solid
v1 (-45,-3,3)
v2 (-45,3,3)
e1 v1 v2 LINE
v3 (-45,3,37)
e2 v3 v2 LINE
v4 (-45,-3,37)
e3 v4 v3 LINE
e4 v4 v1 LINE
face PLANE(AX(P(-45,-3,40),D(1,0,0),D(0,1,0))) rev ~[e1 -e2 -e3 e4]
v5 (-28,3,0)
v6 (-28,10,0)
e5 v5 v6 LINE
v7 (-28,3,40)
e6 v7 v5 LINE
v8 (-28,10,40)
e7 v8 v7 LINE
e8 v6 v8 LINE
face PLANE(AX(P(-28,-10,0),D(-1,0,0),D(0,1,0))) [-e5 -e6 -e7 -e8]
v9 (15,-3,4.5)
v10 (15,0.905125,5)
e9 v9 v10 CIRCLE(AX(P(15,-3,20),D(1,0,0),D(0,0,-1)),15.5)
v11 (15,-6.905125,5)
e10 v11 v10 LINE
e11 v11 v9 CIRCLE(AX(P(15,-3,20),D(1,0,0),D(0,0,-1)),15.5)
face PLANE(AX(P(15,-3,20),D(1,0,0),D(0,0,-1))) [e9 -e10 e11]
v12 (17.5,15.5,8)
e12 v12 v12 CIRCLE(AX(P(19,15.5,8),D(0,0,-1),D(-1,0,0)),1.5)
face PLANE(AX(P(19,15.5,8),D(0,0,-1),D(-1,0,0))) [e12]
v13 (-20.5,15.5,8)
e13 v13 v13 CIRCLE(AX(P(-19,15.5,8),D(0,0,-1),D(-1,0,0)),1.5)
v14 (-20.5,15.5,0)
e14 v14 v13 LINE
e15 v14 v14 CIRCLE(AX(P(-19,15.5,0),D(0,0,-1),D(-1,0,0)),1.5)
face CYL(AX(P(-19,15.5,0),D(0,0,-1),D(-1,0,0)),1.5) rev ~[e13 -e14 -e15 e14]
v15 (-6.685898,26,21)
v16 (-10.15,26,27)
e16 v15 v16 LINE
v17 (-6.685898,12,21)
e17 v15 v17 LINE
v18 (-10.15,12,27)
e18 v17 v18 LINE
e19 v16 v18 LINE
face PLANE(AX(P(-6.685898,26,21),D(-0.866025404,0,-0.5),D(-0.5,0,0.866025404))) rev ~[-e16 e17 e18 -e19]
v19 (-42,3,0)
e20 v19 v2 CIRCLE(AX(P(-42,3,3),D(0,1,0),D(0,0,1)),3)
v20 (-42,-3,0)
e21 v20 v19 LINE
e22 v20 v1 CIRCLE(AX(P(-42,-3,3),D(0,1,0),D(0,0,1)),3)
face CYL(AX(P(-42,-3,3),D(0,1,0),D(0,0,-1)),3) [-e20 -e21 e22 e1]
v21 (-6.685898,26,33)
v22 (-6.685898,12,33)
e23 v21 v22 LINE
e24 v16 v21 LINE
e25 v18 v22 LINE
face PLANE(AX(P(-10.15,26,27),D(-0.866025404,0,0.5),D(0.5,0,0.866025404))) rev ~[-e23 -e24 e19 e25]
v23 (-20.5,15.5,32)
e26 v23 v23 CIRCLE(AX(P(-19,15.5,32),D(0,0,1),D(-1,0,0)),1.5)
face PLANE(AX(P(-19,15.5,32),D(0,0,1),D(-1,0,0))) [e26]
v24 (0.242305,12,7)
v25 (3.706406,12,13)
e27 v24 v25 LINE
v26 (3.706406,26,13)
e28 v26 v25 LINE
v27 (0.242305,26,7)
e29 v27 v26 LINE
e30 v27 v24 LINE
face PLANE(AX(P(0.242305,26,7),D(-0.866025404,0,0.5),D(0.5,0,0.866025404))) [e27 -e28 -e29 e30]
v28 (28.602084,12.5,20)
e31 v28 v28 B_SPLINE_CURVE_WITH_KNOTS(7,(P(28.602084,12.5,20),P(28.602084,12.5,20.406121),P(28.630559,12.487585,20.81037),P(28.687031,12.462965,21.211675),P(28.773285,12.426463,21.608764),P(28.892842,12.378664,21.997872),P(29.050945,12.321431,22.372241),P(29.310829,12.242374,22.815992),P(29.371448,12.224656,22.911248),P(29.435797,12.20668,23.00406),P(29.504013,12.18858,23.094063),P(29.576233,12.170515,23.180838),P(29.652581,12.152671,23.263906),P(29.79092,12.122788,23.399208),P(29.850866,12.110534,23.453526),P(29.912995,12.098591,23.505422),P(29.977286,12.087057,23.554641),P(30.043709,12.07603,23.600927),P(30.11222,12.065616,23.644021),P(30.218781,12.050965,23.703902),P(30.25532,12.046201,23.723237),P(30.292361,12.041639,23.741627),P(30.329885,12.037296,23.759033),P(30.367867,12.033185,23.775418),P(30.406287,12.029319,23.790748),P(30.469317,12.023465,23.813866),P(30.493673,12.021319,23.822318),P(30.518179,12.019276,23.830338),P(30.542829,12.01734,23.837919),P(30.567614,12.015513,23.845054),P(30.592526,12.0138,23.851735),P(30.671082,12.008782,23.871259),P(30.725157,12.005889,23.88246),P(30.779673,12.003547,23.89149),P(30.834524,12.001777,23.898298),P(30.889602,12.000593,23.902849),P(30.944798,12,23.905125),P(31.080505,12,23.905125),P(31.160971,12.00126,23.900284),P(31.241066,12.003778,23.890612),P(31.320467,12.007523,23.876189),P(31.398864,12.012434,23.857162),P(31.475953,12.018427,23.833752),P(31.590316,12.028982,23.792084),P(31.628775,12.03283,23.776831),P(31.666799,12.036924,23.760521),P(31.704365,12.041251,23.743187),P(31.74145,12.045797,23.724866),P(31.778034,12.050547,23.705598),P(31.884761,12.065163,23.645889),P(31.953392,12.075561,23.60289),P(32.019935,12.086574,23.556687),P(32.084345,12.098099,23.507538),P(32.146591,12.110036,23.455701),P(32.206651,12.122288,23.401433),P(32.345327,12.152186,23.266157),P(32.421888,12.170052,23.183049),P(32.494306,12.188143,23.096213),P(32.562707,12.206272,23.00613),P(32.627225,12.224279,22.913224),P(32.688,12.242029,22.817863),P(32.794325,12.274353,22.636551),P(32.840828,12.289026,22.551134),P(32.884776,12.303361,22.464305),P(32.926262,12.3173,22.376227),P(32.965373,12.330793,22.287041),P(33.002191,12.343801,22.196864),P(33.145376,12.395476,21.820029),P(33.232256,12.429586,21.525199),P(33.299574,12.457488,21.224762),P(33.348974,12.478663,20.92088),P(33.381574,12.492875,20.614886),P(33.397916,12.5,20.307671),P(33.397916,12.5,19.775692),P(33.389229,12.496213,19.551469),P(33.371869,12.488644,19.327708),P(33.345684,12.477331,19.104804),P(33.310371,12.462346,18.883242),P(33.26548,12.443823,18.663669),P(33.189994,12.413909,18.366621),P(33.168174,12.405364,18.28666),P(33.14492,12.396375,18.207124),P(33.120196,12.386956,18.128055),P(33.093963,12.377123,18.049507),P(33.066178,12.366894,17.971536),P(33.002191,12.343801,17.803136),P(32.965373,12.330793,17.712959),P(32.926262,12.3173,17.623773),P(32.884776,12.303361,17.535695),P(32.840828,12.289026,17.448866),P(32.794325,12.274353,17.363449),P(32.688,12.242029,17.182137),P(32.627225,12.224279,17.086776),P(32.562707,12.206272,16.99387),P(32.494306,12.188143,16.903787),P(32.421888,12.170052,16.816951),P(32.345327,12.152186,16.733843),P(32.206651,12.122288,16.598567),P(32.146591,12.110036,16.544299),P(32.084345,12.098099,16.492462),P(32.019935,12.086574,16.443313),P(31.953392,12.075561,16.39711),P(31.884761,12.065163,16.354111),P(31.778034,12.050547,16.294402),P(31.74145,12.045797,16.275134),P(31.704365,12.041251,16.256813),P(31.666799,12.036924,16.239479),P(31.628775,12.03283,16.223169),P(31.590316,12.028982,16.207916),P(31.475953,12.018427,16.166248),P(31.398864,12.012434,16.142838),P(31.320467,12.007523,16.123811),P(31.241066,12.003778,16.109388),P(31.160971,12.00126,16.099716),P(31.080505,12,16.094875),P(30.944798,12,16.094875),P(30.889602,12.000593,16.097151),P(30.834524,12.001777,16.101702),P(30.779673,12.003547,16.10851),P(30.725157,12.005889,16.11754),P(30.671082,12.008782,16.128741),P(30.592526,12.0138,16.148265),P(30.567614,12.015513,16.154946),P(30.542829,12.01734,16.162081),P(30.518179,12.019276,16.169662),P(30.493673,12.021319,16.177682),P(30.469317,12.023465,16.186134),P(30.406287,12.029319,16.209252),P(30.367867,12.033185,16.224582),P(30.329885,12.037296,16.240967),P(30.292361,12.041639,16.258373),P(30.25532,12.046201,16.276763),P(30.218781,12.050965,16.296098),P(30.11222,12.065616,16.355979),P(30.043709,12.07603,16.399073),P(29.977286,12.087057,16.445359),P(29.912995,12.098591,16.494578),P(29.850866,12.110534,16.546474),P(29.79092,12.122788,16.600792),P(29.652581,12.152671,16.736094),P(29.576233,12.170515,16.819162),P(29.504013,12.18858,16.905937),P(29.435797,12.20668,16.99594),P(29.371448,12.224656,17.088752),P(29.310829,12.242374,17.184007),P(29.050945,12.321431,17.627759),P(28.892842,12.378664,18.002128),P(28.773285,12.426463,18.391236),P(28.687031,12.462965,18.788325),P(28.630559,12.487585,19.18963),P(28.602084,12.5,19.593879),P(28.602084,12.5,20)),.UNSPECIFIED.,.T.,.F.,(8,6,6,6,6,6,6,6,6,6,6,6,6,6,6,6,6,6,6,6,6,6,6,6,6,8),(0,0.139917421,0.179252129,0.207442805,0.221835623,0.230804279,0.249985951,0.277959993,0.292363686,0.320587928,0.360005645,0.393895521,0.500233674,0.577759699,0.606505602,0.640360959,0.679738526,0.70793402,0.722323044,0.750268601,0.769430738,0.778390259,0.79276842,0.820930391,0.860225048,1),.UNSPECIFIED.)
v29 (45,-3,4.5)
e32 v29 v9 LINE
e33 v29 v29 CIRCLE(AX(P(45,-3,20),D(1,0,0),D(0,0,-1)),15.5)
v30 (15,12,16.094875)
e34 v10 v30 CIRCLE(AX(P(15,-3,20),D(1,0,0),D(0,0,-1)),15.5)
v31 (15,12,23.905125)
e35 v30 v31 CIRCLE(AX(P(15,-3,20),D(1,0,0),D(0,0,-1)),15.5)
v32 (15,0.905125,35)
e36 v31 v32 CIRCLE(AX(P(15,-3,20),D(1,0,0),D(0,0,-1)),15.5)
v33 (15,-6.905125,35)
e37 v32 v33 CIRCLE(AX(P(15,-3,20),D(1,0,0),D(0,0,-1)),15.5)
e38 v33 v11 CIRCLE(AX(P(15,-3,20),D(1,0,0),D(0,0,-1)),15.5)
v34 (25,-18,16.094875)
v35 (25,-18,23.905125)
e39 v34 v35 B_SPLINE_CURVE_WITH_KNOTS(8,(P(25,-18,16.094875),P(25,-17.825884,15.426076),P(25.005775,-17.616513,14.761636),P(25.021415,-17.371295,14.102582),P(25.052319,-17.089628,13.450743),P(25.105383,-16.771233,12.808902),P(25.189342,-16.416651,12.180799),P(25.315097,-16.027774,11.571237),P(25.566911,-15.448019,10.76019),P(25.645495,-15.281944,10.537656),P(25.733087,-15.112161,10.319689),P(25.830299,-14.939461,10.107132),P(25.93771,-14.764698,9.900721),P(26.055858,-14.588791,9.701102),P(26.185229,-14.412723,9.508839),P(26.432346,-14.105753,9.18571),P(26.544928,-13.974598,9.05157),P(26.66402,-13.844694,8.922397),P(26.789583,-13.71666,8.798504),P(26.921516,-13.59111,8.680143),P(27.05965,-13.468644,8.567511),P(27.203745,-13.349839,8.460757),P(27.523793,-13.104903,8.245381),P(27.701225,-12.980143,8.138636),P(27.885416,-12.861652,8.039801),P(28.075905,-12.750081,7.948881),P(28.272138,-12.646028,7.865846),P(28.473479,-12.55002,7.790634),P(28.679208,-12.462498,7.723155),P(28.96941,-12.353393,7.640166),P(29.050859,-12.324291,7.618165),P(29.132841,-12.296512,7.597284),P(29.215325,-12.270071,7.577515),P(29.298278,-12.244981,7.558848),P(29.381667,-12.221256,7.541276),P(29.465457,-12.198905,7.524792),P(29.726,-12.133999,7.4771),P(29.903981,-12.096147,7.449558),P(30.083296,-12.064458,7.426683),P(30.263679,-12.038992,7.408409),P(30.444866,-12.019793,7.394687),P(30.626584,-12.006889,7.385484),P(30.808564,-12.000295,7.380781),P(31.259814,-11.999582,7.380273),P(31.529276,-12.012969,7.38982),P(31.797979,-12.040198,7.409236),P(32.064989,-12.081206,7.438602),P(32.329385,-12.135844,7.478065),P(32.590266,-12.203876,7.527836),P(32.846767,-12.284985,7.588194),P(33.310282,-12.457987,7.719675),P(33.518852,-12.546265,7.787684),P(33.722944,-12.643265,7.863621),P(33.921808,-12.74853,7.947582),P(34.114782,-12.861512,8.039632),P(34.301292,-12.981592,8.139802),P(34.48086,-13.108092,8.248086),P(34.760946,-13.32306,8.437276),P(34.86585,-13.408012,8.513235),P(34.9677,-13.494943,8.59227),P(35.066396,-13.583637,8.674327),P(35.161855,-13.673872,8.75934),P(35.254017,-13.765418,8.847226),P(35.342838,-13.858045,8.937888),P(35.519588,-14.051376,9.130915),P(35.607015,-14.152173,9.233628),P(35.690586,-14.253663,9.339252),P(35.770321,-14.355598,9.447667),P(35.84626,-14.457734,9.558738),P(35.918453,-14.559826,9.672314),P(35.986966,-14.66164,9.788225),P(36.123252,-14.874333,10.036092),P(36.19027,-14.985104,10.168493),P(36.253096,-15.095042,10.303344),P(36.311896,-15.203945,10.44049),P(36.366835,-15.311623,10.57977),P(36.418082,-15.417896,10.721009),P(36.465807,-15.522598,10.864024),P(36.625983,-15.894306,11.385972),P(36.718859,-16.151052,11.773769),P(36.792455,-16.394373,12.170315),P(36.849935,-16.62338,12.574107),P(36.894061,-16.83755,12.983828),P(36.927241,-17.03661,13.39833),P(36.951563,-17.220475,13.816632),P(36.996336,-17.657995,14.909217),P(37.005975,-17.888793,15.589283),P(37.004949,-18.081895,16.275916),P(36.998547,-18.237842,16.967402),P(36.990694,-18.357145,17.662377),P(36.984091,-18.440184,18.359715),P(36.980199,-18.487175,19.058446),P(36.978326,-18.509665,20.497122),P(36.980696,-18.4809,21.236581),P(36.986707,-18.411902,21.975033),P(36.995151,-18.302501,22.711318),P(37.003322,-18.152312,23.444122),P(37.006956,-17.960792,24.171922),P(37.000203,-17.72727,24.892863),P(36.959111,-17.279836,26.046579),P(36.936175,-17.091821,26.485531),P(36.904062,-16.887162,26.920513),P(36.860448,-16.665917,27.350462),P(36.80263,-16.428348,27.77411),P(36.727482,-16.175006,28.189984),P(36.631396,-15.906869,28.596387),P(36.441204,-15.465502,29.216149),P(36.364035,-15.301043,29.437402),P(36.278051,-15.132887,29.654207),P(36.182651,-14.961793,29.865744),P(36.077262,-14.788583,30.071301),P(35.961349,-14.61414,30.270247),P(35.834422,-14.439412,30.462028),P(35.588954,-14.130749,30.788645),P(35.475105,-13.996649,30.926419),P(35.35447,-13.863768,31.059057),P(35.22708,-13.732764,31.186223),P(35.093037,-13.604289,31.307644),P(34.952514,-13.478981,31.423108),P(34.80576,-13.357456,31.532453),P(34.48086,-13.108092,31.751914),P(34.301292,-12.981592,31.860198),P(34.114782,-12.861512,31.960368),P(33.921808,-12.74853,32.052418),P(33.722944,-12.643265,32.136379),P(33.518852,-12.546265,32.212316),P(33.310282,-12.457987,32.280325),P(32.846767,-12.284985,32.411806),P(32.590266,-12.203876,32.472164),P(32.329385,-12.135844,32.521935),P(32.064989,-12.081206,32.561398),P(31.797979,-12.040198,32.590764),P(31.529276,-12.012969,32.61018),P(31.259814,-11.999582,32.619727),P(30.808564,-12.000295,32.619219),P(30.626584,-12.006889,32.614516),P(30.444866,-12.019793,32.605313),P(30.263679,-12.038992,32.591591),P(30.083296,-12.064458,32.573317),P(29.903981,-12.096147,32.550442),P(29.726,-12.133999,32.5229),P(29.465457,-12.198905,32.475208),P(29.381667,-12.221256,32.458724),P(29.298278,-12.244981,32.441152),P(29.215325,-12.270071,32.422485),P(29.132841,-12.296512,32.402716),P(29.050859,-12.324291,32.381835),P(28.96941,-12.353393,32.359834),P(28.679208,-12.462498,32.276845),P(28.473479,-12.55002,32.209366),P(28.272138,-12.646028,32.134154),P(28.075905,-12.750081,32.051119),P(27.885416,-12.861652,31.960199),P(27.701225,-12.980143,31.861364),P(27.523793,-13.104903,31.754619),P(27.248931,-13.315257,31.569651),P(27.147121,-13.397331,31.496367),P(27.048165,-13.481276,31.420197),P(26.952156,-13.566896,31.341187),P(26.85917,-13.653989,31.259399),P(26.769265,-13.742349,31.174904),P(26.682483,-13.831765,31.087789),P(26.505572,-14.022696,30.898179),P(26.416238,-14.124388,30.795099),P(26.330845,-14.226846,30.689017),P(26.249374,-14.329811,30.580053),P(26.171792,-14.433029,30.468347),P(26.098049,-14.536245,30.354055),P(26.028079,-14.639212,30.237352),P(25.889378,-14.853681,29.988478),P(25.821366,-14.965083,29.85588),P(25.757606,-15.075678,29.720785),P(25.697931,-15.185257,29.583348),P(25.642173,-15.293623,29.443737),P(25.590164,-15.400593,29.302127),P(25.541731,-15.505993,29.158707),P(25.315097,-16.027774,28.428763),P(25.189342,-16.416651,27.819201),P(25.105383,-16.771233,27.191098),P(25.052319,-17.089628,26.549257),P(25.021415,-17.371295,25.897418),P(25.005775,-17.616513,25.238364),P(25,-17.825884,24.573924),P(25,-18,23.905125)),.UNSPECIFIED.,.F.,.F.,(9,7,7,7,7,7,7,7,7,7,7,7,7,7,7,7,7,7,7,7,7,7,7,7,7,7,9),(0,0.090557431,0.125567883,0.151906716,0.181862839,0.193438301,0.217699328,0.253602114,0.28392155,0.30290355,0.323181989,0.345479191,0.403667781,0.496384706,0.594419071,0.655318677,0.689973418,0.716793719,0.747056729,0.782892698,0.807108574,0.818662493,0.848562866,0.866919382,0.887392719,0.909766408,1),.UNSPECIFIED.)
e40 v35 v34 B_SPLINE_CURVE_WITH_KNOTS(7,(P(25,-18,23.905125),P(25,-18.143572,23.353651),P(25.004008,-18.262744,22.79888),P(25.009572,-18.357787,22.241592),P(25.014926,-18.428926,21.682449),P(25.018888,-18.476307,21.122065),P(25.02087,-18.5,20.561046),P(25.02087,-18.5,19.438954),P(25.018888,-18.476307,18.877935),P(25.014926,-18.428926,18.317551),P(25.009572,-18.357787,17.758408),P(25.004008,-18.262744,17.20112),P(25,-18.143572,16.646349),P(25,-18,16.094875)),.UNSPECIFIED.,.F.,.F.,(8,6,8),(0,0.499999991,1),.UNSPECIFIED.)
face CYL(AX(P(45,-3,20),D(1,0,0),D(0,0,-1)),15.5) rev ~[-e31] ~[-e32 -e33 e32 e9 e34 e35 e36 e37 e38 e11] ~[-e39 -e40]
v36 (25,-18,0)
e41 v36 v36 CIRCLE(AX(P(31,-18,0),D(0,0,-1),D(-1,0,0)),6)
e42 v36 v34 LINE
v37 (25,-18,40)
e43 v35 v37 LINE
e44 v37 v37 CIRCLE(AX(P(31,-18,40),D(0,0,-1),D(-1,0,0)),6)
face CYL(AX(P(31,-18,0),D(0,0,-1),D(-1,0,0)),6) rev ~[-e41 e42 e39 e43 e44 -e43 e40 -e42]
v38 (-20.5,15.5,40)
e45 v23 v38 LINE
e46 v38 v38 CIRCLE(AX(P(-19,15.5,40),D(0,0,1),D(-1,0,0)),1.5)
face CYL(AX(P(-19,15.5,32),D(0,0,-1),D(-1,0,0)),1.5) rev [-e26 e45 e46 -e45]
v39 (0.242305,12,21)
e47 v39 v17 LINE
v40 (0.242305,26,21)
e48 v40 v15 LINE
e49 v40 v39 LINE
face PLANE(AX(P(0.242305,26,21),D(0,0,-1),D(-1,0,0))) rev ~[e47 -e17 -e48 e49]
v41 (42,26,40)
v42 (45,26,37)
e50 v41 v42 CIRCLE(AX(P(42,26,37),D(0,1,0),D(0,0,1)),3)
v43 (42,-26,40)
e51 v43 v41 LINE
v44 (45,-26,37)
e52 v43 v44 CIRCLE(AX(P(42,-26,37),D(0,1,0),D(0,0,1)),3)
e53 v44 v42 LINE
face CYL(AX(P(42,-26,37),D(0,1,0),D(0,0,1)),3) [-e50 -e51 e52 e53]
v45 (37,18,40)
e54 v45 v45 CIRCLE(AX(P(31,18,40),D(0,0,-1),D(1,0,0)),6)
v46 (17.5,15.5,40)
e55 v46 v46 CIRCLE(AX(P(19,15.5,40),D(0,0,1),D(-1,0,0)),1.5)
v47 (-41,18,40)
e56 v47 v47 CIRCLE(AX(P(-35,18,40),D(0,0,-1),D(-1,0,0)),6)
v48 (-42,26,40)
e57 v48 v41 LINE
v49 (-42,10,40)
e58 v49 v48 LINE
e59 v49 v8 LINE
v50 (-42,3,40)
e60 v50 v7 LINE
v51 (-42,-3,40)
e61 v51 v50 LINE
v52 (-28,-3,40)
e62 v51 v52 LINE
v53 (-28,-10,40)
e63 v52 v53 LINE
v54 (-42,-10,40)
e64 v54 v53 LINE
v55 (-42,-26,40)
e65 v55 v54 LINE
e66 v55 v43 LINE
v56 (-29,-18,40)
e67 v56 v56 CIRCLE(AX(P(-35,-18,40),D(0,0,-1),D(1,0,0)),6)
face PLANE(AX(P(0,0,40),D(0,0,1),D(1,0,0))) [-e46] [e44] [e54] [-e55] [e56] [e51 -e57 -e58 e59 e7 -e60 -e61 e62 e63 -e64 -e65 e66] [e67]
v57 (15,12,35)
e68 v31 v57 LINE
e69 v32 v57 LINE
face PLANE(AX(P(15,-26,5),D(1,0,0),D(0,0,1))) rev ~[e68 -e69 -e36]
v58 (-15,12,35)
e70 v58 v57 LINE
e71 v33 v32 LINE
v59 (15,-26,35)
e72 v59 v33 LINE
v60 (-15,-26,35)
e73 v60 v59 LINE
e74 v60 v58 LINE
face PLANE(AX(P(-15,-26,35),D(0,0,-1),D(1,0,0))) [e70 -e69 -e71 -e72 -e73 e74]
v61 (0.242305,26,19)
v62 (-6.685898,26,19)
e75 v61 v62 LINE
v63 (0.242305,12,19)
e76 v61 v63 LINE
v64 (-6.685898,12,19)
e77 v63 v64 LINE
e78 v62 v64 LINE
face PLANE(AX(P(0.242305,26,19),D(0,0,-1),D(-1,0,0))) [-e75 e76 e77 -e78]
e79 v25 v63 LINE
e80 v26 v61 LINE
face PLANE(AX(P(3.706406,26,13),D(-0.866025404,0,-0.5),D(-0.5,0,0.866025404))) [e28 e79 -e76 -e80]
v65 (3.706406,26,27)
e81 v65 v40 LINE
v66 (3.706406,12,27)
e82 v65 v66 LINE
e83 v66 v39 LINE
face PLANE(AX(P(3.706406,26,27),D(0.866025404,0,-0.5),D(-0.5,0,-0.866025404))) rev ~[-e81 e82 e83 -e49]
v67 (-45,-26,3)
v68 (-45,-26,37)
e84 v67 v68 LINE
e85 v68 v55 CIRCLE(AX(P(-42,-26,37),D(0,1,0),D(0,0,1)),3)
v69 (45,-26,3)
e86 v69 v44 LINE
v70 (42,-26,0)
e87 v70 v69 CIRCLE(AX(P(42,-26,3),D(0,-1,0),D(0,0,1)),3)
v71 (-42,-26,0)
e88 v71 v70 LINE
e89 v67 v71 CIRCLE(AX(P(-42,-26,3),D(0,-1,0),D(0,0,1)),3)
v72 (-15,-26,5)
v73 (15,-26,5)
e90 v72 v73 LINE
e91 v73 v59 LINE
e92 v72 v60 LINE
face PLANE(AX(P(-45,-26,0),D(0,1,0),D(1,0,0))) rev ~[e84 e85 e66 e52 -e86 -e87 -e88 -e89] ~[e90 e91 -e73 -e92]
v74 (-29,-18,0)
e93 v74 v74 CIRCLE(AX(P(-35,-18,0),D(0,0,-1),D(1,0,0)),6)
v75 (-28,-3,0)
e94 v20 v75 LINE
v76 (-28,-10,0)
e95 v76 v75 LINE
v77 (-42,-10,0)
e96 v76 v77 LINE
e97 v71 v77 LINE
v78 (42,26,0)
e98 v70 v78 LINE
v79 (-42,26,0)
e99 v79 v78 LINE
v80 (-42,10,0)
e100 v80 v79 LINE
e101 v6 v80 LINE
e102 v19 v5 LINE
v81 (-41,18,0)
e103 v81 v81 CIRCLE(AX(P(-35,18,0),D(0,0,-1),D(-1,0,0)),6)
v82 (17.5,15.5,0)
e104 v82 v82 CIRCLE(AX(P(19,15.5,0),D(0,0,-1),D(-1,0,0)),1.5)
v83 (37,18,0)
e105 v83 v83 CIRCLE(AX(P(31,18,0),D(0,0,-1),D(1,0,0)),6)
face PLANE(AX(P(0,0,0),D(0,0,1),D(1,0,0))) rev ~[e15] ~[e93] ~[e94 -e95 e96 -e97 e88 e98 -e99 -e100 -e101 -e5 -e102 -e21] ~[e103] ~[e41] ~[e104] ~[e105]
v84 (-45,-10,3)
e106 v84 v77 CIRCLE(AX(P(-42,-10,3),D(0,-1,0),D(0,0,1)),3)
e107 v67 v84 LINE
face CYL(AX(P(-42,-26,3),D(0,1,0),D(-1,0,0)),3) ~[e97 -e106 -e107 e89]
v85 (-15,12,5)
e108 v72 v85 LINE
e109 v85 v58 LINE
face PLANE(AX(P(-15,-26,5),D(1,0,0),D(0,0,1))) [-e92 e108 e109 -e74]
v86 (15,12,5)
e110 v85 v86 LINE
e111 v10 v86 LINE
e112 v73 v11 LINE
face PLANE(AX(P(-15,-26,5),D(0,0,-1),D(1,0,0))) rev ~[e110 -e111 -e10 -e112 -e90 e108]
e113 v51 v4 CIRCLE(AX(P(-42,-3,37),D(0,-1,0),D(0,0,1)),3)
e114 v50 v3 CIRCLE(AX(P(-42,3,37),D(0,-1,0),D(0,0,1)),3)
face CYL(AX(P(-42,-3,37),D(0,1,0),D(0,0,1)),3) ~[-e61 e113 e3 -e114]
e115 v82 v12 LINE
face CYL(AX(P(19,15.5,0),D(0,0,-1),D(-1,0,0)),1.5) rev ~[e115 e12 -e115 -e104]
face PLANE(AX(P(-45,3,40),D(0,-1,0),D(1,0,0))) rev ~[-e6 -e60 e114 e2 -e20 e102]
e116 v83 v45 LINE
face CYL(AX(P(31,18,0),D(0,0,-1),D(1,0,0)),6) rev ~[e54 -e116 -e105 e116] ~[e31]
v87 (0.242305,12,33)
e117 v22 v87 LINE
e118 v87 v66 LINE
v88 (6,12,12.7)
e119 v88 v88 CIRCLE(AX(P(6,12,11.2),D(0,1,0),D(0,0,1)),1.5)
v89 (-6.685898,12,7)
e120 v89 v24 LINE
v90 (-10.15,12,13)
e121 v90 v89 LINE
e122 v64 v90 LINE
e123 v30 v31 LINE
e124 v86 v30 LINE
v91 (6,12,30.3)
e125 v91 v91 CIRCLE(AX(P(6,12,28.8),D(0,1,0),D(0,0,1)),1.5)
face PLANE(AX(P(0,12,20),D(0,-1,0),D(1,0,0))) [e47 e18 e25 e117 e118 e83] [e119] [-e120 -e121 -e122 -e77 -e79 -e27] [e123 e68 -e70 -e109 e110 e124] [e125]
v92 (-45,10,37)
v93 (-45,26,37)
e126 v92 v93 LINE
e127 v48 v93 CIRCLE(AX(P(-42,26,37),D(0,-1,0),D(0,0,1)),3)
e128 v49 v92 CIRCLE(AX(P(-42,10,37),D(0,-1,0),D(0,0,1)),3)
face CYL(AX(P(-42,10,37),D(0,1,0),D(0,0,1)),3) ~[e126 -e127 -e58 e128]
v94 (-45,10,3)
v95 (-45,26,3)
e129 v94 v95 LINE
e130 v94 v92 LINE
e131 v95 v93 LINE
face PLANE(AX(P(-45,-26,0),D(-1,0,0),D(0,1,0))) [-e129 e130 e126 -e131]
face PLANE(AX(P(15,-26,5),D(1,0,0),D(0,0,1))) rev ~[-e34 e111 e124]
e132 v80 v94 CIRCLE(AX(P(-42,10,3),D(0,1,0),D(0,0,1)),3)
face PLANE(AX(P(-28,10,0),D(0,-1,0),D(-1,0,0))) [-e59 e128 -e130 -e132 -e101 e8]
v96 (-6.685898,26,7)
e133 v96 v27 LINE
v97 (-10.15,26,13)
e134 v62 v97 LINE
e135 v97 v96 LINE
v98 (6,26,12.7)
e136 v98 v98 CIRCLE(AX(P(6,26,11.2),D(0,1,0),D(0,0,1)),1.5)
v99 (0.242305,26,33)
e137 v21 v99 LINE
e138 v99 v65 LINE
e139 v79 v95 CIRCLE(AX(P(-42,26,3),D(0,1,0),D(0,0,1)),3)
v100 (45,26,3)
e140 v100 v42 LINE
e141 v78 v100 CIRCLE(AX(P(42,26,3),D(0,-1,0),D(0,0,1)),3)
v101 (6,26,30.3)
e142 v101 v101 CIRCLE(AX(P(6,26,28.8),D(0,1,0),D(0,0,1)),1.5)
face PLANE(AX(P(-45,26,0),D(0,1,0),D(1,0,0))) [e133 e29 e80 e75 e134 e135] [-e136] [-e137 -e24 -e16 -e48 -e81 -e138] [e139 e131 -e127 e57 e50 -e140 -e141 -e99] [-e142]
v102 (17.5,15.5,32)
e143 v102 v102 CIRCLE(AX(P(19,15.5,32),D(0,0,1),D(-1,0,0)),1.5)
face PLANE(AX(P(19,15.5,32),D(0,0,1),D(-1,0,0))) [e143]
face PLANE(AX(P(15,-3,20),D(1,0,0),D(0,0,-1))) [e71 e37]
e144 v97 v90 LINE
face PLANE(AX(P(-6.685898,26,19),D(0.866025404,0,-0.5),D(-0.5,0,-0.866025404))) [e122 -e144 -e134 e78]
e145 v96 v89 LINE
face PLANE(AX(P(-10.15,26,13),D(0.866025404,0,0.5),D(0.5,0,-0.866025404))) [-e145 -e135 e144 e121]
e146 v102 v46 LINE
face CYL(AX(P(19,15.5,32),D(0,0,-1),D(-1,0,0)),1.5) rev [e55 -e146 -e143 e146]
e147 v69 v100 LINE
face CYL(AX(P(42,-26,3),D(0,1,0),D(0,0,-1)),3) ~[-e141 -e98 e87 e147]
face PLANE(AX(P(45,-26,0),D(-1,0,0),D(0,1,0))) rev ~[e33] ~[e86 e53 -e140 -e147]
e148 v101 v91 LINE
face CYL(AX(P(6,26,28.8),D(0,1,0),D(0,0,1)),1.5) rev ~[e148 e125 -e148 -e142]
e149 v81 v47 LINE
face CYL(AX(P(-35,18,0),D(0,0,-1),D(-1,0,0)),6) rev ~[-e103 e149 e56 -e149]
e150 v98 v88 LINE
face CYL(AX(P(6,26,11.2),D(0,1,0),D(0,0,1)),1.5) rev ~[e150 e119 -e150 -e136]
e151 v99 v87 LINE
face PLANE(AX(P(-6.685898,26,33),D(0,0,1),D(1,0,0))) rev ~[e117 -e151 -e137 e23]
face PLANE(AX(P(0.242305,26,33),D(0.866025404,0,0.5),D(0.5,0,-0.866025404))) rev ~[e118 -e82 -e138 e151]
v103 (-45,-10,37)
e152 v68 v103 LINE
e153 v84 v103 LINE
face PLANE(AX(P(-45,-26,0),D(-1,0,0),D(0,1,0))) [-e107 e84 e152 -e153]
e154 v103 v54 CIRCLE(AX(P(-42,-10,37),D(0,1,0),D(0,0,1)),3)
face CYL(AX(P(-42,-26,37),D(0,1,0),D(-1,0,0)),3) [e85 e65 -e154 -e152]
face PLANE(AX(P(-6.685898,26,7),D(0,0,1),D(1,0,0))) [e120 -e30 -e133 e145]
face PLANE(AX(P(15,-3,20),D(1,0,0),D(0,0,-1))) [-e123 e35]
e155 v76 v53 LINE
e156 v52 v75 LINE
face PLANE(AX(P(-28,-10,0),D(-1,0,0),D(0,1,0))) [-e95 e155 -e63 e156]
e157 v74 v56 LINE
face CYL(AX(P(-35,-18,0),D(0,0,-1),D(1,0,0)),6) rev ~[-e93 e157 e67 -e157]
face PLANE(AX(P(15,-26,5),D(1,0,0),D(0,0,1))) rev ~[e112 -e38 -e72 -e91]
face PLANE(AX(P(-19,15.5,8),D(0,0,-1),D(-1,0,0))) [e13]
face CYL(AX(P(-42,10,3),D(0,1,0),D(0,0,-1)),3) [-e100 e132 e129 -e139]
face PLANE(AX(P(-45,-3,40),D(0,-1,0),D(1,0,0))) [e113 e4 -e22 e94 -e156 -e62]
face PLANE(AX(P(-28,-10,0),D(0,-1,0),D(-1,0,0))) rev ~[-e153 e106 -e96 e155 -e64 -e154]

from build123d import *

# Parameters (mm, degrees)
SKETCH_1_W           = 90
SKETCH_1_H           = 52
EXTRUDE_1_DEPTH      = 40
SKETCH_2_R           = 6
CUT_EXTRUDE_1_DEPTH  = 66.582009728
SKETCH_3_R           = 1.5
CUT_EXTRUDE_2_DEPTH  = 80.555012413
SKETCH_6_R           = 1.5
CUT_EXTRUDE_4_DEPTH  = 8
SKETCH_8_W           = 17
SKETCH_8_H           = 20
CUT_EXTRUDE_5_DEPTH  = 66.582009728
SKETCH_17_W          = 30
SKETCH_17_H          = 30
CUT_EXTRUDE_18_DEPTH = 38
SKETCH_9_R           = 15.5
CUT_EXTRUDE_17_DEPTH = 30
SKETCH_21_W          = 17
SKETCH_21_H          = 6
EXTRUDE_7_DEPTH      = 40
FILLET_3_R           = 3
CUT_EXTRUDE_START    = -8
SKETCH_24_R          = 1.5
CUT_EXTRUDE_16_DEPTH = 8


with BuildPart() as part:
    # 草圖1 → 填料-伸長1 (new body)
    with BuildSketch(Plane.XY):
        Rectangle(SKETCH_1_W, SKETCH_1_H)
    extrude(amount=EXTRUDE_1_DEPTH)

    # 草圖2 → 除料-伸長1 (cut, through all)
    with BuildSketch(Plane(origin=(0, 0, 0), x_dir=(-1, 0, 0), z_dir=(0, 0, -1))):
        with Locations((-31, -18)):
            Circle(SKETCH_2_R)
        with Locations(Location((35, -18, 0), (0, 0, 180))):
            Circle(SKETCH_2_R)
        with Locations((35, 18)):
            Circle(SKETCH_2_R)
        with Locations(Location((-31, 18, 0), (0, 0, 180))):
            Circle(SKETCH_2_R)
    extrude(amount=-CUT_EXTRUDE_1_DEPTH, mode=Mode.SUBTRACT)

    # 草圖3 → 除料-伸長2 (cut, through all)
    with BuildSketch(Plane(origin=(0, 26, 0), x_dir=(1, 0, 0), z_dir=(0, 1, 0))):
        with Locations(Location((6, -28.8, 0), (0, 0, 270))):
            Circle(SKETCH_3_R)
        with Locations(Location((6, -11.2, 0), (0, 0, 270))):
            Circle(SKETCH_3_R)
        Polygon((3.706406461, -27), (0.242304845, -21), (-6.685898385, -21), (-10.15, -27), (-6.685898385, -33), (0.242304845, -33), align=None)
        Polygon((0.242304845, -7), (3.706406461, -13), (0.242304845, -19), (-6.685898385, -19), (-10.15, -13), (-6.685898385, -7), align=None)
    extrude(amount=-CUT_EXTRUDE_2_DEPTH, mode=Mode.SUBTRACT)

    # 草圖6 → 除料-伸長4 (cut)
    with BuildSketch(Plane(origin=(0, 0, 0), x_dir=(-1, 0, 0), z_dir=(0, 0, -1))):
        with Locations((-19, 15.5)):
            Circle(SKETCH_6_R)
        with Locations((19, 15.5)):
            Circle(SKETCH_6_R)
    extrude(amount=-CUT_EXTRUDE_4_DEPTH, mode=Mode.SUBTRACT)

    # 草圖8 → 除料-伸長5 (cut, through all)
    with BuildSketch(Plane(origin=(0, 0, 0), x_dir=(-1, 0, 0), z_dir=(0, 0, -1))):
        with Locations((36.5, 0)):
            Rectangle(SKETCH_8_W, SKETCH_8_H)
    extrude(amount=-CUT_EXTRUDE_5_DEPTH, mode=Mode.SUBTRACT)

    # 草圖17 → 除料-伸長18 (cut)
    with BuildSketch(Plane.XZ.offset(26)):
        with Locations((0, 20)):
            Rectangle(SKETCH_17_W, SKETCH_17_H)
    extrude(amount=-CUT_EXTRUDE_18_DEPTH, mode=Mode.SUBTRACT)

    # 草圖9 → 除料-伸長17 (cut)
    with BuildSketch(Plane(origin=(45, 0, 0), x_dir=(0, 0, -1), z_dir=(1, 0, 0))):
        with Locations((-20, -3)):
            Circle(SKETCH_9_R)
    extrude(amount=-CUT_EXTRUDE_17_DEPTH, mode=Mode.SUBTRACT)

    # 草圖21 → 填料-伸長7 (add)
    with BuildSketch(Plane.XY.offset(40)):
        with Locations((-36.5, 0)):
            Rectangle(SKETCH_21_W, SKETCH_21_H)
    extrude(amount=-EXTRUDE_7_DEPTH)

    # 圓角3
    fillet_3_edges = [part.edges().sort_by_distance(p)[0] for p in [
        (45, 0, 40),
        (-45, 0, 40),
        (-45, 0, 0),
        (-45, 18, 40),
        (45, 0, 0),
        (-45, 18, 0),
        (-45, -18, 0),
        (-45, -18, 40),
    ]]
    fillet(fillet_3_edges, radius=FILLET_3_R)

    # 草圖24 → 除料-伸長16 (cut)
    with BuildSketch(Plane.XY.offset(40).offset(CUT_EXTRUDE_START)):
        with Locations(Location((-19, 15.5, 0), (0, 0, 180))):
            Circle(SKETCH_24_R)
        with Locations(Location((19, 15.5, 0), (0, 0, 180))):
            Circle(SKETCH_24_R)
    extrude(amount=CUT_EXTRUDE_16_DEPTH, mode=Mode.SUBTRACT)


solid = part.part
